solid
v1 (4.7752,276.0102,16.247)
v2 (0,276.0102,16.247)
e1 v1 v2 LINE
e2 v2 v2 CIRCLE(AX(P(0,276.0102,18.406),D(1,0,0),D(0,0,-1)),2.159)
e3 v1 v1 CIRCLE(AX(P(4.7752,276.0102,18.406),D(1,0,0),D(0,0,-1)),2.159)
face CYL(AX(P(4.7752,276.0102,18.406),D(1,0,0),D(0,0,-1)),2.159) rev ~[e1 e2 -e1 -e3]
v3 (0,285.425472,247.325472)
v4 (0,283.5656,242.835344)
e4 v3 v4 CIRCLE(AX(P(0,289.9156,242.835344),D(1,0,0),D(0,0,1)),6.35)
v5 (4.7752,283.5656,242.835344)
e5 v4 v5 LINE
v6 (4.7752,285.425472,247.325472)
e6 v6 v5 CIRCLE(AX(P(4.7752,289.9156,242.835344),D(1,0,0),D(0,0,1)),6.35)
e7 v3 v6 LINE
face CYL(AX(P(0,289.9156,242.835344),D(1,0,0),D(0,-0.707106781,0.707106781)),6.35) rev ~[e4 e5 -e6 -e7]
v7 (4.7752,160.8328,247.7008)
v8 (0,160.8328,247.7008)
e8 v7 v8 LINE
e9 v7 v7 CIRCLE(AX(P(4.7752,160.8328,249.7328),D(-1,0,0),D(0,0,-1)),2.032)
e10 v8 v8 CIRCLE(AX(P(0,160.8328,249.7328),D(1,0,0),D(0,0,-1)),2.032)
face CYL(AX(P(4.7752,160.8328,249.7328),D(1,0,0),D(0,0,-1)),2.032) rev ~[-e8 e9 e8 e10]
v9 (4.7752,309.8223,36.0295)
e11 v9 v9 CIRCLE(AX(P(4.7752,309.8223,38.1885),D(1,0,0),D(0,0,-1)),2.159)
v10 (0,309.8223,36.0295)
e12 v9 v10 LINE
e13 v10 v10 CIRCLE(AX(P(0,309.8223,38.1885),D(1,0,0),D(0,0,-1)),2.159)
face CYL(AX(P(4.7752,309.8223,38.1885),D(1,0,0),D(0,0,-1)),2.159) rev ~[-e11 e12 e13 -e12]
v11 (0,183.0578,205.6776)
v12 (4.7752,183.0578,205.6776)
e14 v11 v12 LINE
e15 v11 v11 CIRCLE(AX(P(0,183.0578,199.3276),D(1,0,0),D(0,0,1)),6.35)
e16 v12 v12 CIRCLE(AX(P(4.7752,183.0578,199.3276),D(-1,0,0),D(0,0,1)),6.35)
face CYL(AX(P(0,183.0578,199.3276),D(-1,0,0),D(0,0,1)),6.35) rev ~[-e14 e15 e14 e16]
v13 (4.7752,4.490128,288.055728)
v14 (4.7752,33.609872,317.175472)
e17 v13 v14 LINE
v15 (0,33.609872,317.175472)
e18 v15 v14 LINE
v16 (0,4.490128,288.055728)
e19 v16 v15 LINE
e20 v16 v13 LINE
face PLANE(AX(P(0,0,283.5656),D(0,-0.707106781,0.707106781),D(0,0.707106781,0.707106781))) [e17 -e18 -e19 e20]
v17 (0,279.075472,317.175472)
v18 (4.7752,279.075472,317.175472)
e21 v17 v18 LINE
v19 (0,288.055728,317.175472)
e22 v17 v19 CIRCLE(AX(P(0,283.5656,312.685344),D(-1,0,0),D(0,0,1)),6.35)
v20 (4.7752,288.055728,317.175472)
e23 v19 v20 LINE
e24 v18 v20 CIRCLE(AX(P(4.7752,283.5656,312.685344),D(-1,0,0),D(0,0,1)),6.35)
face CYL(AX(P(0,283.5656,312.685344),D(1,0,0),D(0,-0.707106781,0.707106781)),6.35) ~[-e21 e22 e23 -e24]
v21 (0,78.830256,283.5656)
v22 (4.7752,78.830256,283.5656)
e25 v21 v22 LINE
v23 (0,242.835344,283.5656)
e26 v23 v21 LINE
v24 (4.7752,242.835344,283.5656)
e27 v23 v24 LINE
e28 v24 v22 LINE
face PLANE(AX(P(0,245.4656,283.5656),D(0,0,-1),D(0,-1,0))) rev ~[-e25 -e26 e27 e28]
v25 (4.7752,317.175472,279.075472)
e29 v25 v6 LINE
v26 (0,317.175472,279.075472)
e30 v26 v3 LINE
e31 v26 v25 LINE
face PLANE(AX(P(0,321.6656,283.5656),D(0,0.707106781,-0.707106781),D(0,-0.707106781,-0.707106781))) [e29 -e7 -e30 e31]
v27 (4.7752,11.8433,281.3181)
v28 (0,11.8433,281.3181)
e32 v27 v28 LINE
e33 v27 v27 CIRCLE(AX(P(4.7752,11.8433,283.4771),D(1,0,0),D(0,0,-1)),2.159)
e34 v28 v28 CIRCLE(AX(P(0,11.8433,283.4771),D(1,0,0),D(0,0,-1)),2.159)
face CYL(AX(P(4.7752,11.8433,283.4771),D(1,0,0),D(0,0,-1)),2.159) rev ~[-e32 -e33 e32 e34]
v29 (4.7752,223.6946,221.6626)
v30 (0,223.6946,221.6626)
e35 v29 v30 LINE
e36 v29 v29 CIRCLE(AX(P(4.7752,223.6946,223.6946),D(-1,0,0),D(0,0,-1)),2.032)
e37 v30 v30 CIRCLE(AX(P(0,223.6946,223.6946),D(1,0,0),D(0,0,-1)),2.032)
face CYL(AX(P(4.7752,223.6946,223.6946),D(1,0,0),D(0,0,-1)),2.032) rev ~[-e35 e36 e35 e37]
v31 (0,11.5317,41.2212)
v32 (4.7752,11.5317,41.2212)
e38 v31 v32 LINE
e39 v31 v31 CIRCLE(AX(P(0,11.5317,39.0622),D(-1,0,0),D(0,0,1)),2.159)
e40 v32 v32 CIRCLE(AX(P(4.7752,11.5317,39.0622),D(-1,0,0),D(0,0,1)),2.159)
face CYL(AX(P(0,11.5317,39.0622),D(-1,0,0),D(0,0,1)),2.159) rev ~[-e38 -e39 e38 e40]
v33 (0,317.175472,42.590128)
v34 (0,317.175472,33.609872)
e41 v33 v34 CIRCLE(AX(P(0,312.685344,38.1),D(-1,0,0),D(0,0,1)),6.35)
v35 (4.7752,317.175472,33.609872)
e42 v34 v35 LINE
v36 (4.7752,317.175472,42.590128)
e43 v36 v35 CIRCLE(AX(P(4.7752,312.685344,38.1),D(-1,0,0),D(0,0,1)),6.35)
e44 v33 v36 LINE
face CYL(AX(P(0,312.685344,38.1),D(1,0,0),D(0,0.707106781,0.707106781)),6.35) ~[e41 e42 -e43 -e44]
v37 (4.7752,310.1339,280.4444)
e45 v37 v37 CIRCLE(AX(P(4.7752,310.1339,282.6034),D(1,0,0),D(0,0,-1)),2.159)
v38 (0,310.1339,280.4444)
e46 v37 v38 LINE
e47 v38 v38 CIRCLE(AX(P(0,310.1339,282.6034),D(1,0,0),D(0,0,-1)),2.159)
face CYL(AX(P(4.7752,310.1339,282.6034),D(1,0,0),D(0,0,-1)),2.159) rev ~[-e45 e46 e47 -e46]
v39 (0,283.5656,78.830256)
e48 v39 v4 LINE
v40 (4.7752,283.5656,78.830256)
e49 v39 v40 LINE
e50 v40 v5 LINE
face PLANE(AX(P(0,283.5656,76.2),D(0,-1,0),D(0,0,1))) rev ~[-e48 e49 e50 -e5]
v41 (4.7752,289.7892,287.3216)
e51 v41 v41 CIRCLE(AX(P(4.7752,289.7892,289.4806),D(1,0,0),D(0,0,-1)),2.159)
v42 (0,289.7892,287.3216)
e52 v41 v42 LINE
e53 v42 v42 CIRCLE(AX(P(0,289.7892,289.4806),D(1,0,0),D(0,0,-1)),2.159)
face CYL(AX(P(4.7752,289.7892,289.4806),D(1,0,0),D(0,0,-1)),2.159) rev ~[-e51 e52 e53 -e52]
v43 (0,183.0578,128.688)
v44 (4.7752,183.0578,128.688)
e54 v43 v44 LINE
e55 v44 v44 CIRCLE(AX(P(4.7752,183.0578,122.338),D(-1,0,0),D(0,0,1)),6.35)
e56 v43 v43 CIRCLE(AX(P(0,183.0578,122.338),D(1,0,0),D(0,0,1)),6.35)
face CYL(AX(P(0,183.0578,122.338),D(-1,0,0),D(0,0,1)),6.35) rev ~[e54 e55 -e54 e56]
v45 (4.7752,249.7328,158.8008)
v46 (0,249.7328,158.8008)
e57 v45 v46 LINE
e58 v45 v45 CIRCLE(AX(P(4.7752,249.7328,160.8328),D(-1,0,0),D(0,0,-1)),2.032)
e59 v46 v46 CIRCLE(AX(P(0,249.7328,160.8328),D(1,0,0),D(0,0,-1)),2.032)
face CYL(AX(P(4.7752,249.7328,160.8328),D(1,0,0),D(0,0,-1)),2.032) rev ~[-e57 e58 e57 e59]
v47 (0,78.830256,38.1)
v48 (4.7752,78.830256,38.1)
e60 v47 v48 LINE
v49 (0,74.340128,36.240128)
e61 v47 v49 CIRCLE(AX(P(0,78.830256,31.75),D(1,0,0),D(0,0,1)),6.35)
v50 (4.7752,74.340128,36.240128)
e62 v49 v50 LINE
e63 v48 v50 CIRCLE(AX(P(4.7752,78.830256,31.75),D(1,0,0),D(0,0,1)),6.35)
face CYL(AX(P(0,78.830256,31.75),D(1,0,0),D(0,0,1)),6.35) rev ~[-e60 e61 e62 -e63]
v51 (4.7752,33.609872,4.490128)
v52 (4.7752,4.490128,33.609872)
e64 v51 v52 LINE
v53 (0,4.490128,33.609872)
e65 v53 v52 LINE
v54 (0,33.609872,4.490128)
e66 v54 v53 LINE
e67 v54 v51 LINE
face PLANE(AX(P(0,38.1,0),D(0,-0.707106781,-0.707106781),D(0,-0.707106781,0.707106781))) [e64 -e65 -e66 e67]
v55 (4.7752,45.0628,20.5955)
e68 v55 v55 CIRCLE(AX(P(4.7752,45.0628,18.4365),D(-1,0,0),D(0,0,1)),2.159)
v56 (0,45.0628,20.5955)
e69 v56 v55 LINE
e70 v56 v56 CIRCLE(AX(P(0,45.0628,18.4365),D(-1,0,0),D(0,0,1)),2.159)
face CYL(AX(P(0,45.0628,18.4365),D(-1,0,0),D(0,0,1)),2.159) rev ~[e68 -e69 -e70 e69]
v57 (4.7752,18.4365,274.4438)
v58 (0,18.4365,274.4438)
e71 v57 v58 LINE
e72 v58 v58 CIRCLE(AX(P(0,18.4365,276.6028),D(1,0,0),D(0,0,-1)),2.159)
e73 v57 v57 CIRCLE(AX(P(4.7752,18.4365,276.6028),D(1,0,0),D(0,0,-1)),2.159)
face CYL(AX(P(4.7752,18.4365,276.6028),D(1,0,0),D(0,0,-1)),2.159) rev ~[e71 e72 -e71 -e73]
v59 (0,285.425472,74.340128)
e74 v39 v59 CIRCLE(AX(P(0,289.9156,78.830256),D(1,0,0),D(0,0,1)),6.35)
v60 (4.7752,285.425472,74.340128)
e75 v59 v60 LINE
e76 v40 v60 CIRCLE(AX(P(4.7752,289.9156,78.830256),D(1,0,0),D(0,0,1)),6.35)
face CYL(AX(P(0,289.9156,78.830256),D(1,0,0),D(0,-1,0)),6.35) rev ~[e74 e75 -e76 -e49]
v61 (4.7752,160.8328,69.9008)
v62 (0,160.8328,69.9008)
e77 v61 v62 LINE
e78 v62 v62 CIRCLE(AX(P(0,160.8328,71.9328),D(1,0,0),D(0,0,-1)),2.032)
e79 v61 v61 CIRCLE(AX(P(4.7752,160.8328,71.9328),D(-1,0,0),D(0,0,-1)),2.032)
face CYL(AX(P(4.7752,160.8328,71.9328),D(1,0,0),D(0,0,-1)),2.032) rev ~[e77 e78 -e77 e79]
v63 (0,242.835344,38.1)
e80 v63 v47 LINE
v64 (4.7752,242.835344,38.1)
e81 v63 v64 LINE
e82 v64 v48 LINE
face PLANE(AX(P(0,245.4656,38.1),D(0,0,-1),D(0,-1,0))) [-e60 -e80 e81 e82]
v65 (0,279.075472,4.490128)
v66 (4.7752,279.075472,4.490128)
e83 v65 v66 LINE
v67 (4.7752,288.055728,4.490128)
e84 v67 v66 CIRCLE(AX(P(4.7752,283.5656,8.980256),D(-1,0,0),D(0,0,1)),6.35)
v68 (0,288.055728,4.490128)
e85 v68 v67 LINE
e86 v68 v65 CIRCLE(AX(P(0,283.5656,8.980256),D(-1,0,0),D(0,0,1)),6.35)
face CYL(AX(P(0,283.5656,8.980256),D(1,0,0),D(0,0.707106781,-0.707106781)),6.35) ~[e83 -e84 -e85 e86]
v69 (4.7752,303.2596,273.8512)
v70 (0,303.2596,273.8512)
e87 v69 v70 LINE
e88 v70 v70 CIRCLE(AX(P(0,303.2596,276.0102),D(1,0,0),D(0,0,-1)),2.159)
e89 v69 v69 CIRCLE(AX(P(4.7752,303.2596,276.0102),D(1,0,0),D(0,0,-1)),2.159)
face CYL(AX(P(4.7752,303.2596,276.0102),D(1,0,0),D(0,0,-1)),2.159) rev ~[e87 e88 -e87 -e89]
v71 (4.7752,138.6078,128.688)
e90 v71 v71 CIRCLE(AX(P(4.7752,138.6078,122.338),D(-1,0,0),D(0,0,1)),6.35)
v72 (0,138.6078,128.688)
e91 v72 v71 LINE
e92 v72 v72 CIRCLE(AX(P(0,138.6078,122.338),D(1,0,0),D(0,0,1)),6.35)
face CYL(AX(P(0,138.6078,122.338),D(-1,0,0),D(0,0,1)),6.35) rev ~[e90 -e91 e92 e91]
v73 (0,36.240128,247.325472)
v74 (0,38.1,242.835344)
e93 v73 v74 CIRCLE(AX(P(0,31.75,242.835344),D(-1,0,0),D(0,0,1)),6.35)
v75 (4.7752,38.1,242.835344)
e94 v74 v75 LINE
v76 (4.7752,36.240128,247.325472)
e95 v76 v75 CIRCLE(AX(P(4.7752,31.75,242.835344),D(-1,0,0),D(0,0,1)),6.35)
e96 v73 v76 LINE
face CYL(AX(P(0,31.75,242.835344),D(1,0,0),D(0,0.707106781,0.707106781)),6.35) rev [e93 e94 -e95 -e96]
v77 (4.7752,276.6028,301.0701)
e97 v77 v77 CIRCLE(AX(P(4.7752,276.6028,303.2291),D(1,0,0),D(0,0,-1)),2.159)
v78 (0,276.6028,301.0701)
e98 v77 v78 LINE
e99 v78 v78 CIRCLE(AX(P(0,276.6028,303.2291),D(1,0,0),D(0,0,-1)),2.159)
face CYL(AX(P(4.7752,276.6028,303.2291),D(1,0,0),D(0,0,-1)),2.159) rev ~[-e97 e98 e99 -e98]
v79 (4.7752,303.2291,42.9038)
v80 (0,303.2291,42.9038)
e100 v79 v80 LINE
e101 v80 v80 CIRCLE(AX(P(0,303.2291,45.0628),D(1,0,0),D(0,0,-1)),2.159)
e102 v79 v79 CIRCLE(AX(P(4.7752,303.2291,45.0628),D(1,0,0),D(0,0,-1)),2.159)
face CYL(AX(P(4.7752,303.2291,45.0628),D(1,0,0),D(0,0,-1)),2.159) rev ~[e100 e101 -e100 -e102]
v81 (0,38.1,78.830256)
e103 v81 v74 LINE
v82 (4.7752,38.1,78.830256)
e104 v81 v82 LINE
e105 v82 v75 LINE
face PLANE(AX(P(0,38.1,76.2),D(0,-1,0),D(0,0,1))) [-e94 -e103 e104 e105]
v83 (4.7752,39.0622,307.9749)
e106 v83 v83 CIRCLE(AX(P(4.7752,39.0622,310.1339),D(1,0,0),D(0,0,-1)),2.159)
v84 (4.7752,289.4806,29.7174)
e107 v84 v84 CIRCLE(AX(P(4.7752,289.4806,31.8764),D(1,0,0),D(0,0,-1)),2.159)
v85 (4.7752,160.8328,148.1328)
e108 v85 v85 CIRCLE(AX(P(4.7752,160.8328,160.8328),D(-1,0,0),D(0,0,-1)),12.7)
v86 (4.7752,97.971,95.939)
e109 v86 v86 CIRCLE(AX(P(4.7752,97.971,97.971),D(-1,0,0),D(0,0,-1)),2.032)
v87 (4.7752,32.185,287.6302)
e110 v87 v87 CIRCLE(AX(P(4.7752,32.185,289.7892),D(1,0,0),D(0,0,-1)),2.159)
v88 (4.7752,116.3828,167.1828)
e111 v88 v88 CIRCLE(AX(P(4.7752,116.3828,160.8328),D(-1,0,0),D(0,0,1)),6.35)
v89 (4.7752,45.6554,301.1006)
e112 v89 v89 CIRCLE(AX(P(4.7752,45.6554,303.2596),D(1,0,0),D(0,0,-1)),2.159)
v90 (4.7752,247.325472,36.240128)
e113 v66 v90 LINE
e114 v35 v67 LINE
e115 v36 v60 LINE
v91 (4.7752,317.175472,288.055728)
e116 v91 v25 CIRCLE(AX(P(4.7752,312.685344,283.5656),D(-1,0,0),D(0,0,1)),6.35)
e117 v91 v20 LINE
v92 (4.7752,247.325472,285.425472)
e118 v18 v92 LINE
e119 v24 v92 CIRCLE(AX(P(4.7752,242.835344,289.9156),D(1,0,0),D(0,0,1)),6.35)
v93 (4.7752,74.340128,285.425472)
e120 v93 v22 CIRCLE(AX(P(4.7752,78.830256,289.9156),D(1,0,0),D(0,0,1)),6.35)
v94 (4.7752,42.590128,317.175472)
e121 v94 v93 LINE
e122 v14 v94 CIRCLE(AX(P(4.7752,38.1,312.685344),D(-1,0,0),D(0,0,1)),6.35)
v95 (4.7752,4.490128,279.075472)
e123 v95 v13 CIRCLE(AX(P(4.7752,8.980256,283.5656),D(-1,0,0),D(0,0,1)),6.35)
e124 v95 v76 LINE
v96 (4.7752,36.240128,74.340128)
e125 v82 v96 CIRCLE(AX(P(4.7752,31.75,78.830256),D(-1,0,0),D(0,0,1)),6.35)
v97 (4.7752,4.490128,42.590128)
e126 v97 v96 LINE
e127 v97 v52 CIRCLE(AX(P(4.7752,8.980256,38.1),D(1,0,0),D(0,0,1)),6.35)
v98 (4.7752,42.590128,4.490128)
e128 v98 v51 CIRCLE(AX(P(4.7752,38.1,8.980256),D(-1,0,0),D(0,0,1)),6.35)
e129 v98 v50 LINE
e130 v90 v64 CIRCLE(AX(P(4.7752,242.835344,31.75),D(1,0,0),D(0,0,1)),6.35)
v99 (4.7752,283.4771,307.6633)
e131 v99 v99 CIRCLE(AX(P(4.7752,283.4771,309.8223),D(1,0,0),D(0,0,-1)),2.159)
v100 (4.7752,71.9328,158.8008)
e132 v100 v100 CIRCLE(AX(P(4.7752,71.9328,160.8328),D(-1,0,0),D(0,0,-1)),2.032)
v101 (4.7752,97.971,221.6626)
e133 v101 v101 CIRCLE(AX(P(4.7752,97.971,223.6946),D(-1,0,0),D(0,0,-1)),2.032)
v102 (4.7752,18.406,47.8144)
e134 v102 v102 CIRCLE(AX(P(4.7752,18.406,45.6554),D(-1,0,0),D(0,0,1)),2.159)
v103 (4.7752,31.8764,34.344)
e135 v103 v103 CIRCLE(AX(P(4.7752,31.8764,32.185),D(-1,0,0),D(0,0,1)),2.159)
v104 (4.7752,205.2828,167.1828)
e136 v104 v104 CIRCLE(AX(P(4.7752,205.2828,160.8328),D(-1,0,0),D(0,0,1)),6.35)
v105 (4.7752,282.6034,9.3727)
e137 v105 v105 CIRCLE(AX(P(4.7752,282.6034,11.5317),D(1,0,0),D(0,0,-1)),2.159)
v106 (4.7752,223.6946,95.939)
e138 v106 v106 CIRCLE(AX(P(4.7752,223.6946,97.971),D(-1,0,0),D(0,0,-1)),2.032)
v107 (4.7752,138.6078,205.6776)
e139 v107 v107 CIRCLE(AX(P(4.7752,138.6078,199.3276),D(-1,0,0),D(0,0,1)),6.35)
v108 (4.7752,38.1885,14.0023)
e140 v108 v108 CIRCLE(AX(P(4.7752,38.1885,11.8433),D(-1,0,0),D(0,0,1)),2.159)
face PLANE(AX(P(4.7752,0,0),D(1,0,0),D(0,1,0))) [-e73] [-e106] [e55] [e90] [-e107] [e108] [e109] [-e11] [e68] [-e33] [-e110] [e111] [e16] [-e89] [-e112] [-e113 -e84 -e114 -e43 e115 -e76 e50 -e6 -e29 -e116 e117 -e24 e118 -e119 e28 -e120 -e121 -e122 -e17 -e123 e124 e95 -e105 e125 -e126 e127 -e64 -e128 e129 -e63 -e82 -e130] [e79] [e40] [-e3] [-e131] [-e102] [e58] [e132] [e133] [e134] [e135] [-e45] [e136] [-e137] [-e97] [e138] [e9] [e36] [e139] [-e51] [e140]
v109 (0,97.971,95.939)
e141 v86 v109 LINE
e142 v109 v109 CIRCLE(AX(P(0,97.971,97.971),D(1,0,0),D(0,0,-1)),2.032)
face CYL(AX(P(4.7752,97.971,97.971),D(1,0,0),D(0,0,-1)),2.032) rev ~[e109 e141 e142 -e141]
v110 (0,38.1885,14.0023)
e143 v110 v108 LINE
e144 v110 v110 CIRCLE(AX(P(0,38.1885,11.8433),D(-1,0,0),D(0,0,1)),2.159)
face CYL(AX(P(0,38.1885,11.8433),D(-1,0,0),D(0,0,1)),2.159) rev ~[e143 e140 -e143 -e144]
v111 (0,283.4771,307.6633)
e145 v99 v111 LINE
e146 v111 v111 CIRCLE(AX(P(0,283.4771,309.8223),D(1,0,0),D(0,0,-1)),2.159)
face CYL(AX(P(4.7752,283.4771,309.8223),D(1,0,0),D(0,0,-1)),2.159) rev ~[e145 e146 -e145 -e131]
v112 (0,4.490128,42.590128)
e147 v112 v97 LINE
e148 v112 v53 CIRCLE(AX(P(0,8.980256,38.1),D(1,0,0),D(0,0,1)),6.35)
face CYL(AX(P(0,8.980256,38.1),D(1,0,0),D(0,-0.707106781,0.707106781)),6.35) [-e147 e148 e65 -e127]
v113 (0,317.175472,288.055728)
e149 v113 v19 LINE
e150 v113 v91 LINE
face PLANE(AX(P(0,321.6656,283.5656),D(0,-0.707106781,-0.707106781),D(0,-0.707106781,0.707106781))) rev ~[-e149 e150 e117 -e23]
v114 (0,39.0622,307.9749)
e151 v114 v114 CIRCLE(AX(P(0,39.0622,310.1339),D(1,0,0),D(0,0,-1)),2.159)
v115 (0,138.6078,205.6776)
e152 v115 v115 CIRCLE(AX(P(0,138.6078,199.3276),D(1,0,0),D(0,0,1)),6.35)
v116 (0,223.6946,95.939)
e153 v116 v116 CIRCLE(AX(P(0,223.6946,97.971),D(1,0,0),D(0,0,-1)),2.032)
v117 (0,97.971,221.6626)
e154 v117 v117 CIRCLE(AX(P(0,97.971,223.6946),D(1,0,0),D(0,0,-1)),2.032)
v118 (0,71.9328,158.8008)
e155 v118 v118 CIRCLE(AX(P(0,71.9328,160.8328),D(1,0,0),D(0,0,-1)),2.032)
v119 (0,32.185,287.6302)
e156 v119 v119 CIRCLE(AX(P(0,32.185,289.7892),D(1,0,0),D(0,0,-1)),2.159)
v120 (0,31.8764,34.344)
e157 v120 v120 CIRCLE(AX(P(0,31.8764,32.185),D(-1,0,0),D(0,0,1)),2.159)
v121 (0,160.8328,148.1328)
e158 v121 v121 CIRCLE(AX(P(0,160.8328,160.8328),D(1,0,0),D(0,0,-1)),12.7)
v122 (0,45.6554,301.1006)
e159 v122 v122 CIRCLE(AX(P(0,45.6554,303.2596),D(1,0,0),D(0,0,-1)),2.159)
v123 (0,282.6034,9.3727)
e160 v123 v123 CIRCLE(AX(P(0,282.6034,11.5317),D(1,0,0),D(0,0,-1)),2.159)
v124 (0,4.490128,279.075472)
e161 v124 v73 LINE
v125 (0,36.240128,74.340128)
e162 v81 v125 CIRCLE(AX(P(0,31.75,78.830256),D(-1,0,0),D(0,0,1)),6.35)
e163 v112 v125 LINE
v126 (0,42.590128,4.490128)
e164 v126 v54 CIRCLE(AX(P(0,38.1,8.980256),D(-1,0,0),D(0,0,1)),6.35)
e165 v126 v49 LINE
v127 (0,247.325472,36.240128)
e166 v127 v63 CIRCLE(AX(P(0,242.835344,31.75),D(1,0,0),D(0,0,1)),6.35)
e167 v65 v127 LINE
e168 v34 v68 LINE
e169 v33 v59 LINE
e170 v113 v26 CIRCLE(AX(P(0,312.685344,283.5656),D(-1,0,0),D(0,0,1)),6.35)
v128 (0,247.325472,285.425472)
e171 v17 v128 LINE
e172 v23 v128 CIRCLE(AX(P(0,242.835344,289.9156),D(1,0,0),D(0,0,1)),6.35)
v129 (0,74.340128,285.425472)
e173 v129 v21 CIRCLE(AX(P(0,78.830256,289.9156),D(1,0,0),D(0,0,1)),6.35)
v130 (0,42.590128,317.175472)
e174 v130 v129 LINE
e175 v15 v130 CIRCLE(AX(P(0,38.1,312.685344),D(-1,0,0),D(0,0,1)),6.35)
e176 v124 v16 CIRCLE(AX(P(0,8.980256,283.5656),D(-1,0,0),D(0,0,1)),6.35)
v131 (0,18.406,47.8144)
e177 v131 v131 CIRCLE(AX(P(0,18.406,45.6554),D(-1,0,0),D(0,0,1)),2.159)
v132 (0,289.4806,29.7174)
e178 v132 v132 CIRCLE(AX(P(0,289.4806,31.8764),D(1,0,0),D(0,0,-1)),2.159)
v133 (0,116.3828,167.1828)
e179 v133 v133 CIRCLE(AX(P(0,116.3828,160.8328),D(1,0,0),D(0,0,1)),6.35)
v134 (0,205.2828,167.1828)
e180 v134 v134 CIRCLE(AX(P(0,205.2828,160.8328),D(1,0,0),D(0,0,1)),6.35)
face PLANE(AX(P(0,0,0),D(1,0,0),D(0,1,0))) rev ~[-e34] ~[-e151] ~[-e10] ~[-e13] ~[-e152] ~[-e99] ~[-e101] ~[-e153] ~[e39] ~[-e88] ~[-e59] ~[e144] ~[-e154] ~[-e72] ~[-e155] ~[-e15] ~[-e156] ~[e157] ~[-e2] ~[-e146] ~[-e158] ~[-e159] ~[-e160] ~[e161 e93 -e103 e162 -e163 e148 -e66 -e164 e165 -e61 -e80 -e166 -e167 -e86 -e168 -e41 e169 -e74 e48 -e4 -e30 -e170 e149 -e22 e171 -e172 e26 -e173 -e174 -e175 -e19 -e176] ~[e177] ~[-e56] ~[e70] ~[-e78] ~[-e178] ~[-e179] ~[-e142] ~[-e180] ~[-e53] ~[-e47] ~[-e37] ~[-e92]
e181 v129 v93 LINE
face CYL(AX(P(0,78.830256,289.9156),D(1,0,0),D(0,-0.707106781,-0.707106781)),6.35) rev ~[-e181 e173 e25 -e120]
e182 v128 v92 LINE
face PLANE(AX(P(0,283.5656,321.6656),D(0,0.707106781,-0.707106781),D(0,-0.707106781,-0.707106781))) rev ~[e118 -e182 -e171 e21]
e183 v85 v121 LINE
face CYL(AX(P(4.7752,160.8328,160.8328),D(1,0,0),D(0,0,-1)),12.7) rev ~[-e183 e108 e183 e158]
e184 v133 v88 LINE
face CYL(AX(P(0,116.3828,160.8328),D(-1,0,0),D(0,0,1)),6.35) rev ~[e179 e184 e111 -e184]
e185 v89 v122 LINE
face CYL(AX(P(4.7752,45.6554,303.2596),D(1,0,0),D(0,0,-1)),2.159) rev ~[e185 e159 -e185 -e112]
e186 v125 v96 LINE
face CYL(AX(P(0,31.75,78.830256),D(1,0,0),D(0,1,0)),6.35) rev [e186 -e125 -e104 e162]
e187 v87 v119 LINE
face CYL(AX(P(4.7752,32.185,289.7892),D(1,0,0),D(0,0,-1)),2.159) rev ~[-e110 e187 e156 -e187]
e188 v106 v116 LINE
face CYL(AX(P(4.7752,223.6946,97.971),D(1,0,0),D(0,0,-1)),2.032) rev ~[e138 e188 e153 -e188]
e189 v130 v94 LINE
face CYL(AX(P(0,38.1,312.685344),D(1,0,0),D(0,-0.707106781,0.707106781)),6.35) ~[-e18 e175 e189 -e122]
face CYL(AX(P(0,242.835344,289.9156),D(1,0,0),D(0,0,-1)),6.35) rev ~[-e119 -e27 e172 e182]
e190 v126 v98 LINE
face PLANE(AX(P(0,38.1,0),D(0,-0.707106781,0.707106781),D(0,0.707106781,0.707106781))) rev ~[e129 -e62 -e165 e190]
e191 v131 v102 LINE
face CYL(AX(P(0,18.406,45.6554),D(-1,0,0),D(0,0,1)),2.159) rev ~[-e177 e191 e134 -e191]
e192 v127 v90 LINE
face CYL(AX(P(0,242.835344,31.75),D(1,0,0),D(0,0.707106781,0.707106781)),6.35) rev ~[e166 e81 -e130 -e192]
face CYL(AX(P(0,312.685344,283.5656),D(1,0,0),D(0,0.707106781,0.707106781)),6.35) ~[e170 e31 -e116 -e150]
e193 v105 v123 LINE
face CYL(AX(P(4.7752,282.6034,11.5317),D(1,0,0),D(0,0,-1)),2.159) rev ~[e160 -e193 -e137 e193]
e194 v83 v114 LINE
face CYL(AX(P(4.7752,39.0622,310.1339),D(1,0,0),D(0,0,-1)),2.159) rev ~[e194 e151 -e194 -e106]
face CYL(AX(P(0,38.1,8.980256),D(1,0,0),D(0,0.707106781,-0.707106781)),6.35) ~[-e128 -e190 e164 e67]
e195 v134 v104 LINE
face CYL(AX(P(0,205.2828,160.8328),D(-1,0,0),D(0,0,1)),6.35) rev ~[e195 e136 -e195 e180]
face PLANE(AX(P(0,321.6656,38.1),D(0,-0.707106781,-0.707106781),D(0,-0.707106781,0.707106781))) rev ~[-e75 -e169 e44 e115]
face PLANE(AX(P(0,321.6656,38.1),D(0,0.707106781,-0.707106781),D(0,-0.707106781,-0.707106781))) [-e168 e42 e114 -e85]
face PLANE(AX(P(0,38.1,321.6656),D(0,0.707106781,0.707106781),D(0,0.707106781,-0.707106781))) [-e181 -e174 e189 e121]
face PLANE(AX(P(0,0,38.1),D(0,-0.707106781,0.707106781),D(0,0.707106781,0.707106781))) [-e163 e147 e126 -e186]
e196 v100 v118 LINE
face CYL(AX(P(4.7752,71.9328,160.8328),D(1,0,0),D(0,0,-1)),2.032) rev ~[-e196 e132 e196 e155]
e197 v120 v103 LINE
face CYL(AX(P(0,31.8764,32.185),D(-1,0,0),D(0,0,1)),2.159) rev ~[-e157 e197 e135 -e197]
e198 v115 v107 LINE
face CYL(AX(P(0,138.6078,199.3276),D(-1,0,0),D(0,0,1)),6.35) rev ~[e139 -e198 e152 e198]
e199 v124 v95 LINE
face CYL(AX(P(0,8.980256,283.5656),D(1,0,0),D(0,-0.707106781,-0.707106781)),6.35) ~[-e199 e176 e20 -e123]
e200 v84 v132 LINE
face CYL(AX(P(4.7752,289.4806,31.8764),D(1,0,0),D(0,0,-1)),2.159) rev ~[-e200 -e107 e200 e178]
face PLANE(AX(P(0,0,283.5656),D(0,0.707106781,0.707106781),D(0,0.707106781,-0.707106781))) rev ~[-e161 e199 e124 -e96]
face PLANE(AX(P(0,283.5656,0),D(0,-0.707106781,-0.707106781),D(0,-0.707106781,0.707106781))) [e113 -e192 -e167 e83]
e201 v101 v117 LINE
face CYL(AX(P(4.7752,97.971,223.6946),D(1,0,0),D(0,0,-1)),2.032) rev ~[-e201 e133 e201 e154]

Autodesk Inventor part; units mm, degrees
ref_plane "YZ Plane" through (0, 0, 0) normal (1, 0, 0) x (0, 1, 0)
ref_plane "XZ Plane" through (0, 0, 0) normal (0, 1, 0) x (-1, 0, 0)
ref_plane "XY Plane" through (0, 0, 0) normal (0, 0, 1) x (1, 0, 0)
sketch "Sketch1" plane through (0, 0, 0) normal (1, 0, 0) x (0, 1, 0)
  line L0 (0, 0) -> (321.6656, 0)
  line L1 (321.6656, 0) -> (321.6656, 321.6656)
  line L2 (321.6656, 321.6656) -> (0, 321.6656)
  line L3 (0, 321.6656) -> (0, 0)
  dimension "d0" = 321.6656
  dimension "d1" = 321.6656
extrude "Extrusion1" add sketch "Sketch1" along normal blind 4.7752
sketch "Sketch3" plane through (0, 0, 0) normal (-1, 0, 0) x (0, 0, 1)
  line L0 (0, 321.6656) -> (321.6656, 321.6656) projected
  line L1 (321.6656, 321.6656) -> (321.6656, 0) projected
  line L2 (0, 321.6656) -> (321.6656, 321.6656) projected
  line L3 (321.6656, 321.6656) -> (283.5656, 321.6656)
  line L4 (283.5656, 321.6656) -> (283.5656, 283.5656)
  line L5 (283.5656, 283.5656) -> (321.6656, 283.5656)
  line L6 (321.6656, 283.5656) -> (321.6656, 321.6656)
  line L7 (321.6656, 321.6656) -> (321.6656, 0) projected
  line L8 (321.6656, 0) -> (283.5656, 0)
  line L9 (283.5656, 0) -> (283.5656, 38.1)
  line L10 (283.5656, 38.1) -> (321.6656, 38.1)
  line L11 (321.6656, 38.1) -> (321.6656, 0)
  line L12 (321.6656, 0) -> (0, 0) projected
  line L13 (0, 0) -> (38.1, 0)
  line L14 (38.1, 0) -> (38.1, 38.1)
  line L15 (38.1, 38.1) -> (0, 38.1)
  line L16 (0, 38.1) -> (0, 0)
  line L17 (0, 321.6656) -> (38.1, 321.6656)
  line L18 (38.1, 321.6656) -> (38.1, 283.5656)
  line L19 (38.1, 283.5656) -> (0, 283.5656)
  line L20 (0, 283.5656) -> (0, 321.6656)
  line L21 (283.5656, 321.6656) -> (38.1, 321.6656)
  line L22 (38.1, 321.6656) -> (38.1, 283.5656)
  line L23 (38.1, 283.5656) -> (283.5656, 283.5656)
  line L24 (283.5656, 283.5656) -> (283.5656, 321.6656)
  line L25 (321.6656, 283.5656) -> (283.5656, 283.5656)
  line L26 (283.5656, 283.5656) -> (283.5656, 38.1)
  line L27 (283.5656, 38.1) -> (321.6656, 38.1)
  line L28 (321.6656, 38.1) -> (321.6656, 283.5656)
  line L29 (38.1, 38.1) -> (0, 38.1)
  line L30 (0, 38.1) -> (0, 283.5656)
  line L31 (0, 283.5656) -> (38.1, 283.5656)
  line L32 (38.1, 283.5656) -> (38.1, 38.1)
  line L33 (38.1, 38.1) -> (283.5656, 38.1)
  line L34 (283.5656, 38.1) -> (283.5656, 0)
  line L35 (283.5656, 0) -> (38.1, 0)
  line L36 (38.1, 0) -> (38.1, 38.1)
  line L37 (321.6656, 283.5656) -> (283.5656, 245.4656)
  line L38 (321.6656, 283.5656) -> (375.5471, 283.5656) construction
  line L39 (283.5656, 245.4656) -> (283.5656, 321.6656)
  line L40 (283.5656, 321.6656) -> (245.4656, 283.5656)
  line L41 (283.5656, 321.6656) -> (337.4471, 321.6656) construction
  line L42 (38.1, 321.6656) -> (76.2, 283.5656)
  line L43 (38.1, 321.6656) -> (91.9815, 321.6656) construction
  line L44 (0, 283.5656) -> (38.1, 245.4656)
  line L45 (0, 283.5656) -> (53.8815, 283.5656) construction
  line L46 (0, 38.1) -> (38.1, 76.2)
  line L47 (0, 38.1) -> (53.8815, 38.1) construction
  line L48 (38.1, 0) -> (76.2, 38.1)
  line L49 (38.1, 0) -> (91.9815, 0) construction
  line L50 (321.6656, 38.1) -> (283.5656, 76.2)
  line L51 (321.6656, 38.1) -> (375.5471, 38.1) construction
  line L52 (283.5656, 0) -> (245.4656, 38.1)
  line L53 (283.5656, 0) -> (337.4471, 0) construction
  dimension "d14" = 38.1
  dimension "d15" = 38.1
  dimension "d16" = 38.1
  dimension "d17" = 38.1
  dimension "d18" = 38.1
  dimension "d19" = 38.1
  dimension "d20" = 38.1
  dimension "d21" = 135
  dimension "d22" = 135
  dimension "d25" = 45
  dimension "d26" = 45
  dimension "d27" = 45
  dimension "d28" = 45
  dimension "d29" = 135
  dimension "d30" = 135
extrude "Extrusion4" cut sketch "Sketch3" against normal blind 4.7752 contours L0 L40 L23 L42 | L44 L32 L46 L30 | L1 L50 L26 L37 | L48 L33 L52 L12
sketch "Sketch4" plane through (0, 0, 0) normal (-1, 0, 0) x (0, 0, 1)
  line L0 (321.6656, 0) -> (283.5656, 0) projected
  line L1 (321.6656, 38.1) -> (321.6656, 0) projected
  line L2 (321.6656, 321.6656) -> (321.6656, 283.5656) projected
  line L3 (283.5656, 321.6656) -> (321.6656, 321.6656) projected
  line L4 (0, 321.6656) -> (38.1, 321.6656) projected
  line L5 (0, 283.5656) -> (0, 321.6656) projected
  line L6 (0, 0) -> (0, 38.1) projected
  line L7 (38.1, 0) -> (0, 0) projected
  line L8 (245.4656, 283.5656) -> (283.5656, 321.6656) projected
  line L9 (283.5656, 321.6656) -> (321.6656, 283.5656)
  line L10 (0, 283.5656) -> (0, 321.6656) projected
  line L11 (38.1, 321.6656) -> (0, 283.5656)
  line L12 (0, 38.1) -> (38.1, 0)
  line L13 (283.5656, 0) -> (321.6656, 38.1)
extrude "Extrusion5" cut sketch "Sketch4" against normal blind 4.7752
fillet "Fillet1" radius 6.35 16 edges at (2.3876, 283.5656, 0) (2.3876, 321.6656, 38.1) (2.3876, 38.1, 0) (2.3876, 76.2, 38.1) (2.3876, 0, 38.1) (2.3876, 283.5656, 76.2) (2.3876, 283.5656, 245.4656) (2.3876, 321.6656, 283.5656) (2.3876, 283.5656, 321.6656) (2.3876, 76.2, 283.5656) (2.3876, 245.4656, 283.5656) (2.3876, 0, 283.5656) (2.3876, 38.1, 321.6656) (2.3876, 38.1, 76.2) (2.3876, 38.1, 245.4656) (2.3876, 245.4656, 38.1)
sketch "Sketch6" plane through (0, 0, 0) normal (-1, 0, 0) x (0, 0, 1)
  circle A0 centre (-6.7619, -6.7309) radius 6.35
  circle A1 centre (71.9016, 17.9648) radius 6.35
  circle A2 centre (-24.7224, -24.6915) radius 6.35
  circle A3 centre (18.3502, 71.9326) radius 6.35
  circle A4 centre (39.0622, 11.5317) radius 2.159
  circle A5 centre (45.6554, 18.406) radius 2.159
  circle A6 centre (18.4365, 45.0628) radius 2.159
  circle A7 centre (32.185, 31.8764) radius 2.159
  circle A8 centre (11.8433, 38.1885) radius 2.159
  arc A9 (79.2947, 3.1748) -> (87.7766, 8.3381) centre (85.2874, 2.8788) ccw
  line L0 (87.7766, 28.6693) -> (87.7766, 8.3381)
  arc A10 (87.7766, 28.6693) -> (79.2947, 33.8326) centre (85.2874, 34.1286) ccw
  line L1 (40.1516, 33.8326) -> (79.2947, 33.8326)
  arc A11 (33.8016, 40.1826) -> (40.1516, 33.8326) centre (40.1516, 40.1826) ccw
  line L2 (33.8016, 79.3257) -> (33.8016, 40.1826)
  arc A12 (33.8016, 79.3257) -> (28.6383, 87.8076) centre (34.0976, 85.3184) ccw
  line L3 (28.6383, 87.8076) -> (8.3071, 87.8076)
  arc A13 (8.3071, 87.8076) -> (3.1438, 79.3257) centre (2.8478, 85.3184) ccw
  line L4 (3.1438, 27.4834) -> (3.1438, 79.3257)
  arc A14 (1.284, 22.9933) -> (3.1438, 27.4834) centre (-3.2062, 27.4834) ccw
  line L5 (-40.7893, -19.08) -> (1.284, 22.9933)
  arc A15 (-28.7596, -43.1049) -> (-19.111, -40.7583) centre (-23.1391, -45.2051) ccw
  line L6 (22.9623, 1.3149) -> (-19.111, -40.7583)
  arc A16 (27.4524, 3.1748) -> (22.9623, 1.3149) centre (27.4524, -3.1752) ccw
  line L7 (79.2947, 3.1748) -> (27.4524, 3.1748)
  circle A17 centre (85.2874, 34.1286) radius 2.95
  circle A18 centre (2.8478, 85.3184) radius 2.95
  circle A19 centre (-23.1391, -45.2051) radius 2.95
  circle A20 centre (85.2874, 2.8788) radius 2.95
  circle A21 centre (34.0976, 85.3184) radius 2.95
  point P0 (0, 0)
  point P1 (36.9766, 87.8076)
  dimension "d65" = 4.318
extrude "Extrusion7" cut sketch "Sketch6" against normal blind 25.4 contours A4 | A5 | A6 | A7 | A8
sketch "Sketch7" plane through (4.7752, 0, 0) normal (1, 0, 0) x (0, 0, -1)
  circle A0 centre (-31.8764, 289.4806) radius 2.159
  circle A1 centre (-11.5317, 282.6034) radius 2.159
  circle A2 centre (-38.1885, 309.8223) radius 2.159
  circle A3 centre (-18.406, 276.0102) radius 2.159
  circle A4 centre (-45.0628, 303.2291) radius 2.159
  circle A5 centre (-81.9118, 239.7538) radius 19.05
  line L0 (-38.1, 78.8303) -> (-38.1, 242.8353)
  arc A6 (-36.2401, 247.3255) -> (-38.1, 242.8353) centre (-31.75, 242.8353) ccw
  line L1 (-36.2401, 247.3255) -> (-4.4901, 279.0755)
  arc A7 (-4.4901, 279.0755) -> (-4.4901, 288.0557) centre (-8.9803, 283.5656) ccw
  line L2 (-4.4901, 288.0557) -> (-33.6099, 317.1755)
  arc A8 (-33.6099, 317.1755) -> (-42.5901, 317.1755) centre (-38.1, 312.6853) ccw
  line L3 (-42.5901, 317.1755) -> (-74.3401, 285.4255)
  arc A9 (-78.8303, 283.5656) -> (-74.3401, 285.4255) centre (-78.8303, 289.9156) ccw
  line L4 (-78.8303, 283.5656) -> (-242.8353, 283.5656)
  point P0 (0, 0)
  point P1 (-61.0348, 364.3954)
extrude "Extrusion8" cut sketch "Sketch7" against normal blind 25.4 contours A0 | A1 | A2 | A3 | A4
sketch "Sketch8" plane through (4.7752, 0, 0) normal (1, 0, 0) x (0, 0, -1)
  circle A0 centre (-289.7892, 32.185) radius 2.159
  circle A1 centre (-310.1339, 39.0622) radius 2.159
  circle A2 centre (-276.6028, 18.4365) radius 2.159
  circle A3 centre (-303.2596, 45.6554) radius 2.159
  circle A4 centre (-283.4771, 11.8433) radius 2.159
  circle A5 centre (-289.4806, 289.7892) radius 2.159
  circle A6 centre (-282.6034, 310.1339) radius 2.159
  circle A7 centre (-309.8223, 283.4771) radius 2.159
  circle A8 centre (-276.0102, 303.2596) radius 2.159
  circle A9 centre (-303.2291, 276.6028) radius 2.159
  circle A10 centre (-239.7538, 81.9118) radius 19.05
  circle A11 centre (-239.7538, 239.7538) radius 19.05
  line L0 (-78.8303, 283.5656) -> (-242.8353, 283.5656)
  arc A12 (-247.3255, 285.4255) -> (-242.8353, 283.5656) centre (-242.8353, 289.9156) ccw
  line L1 (-247.3255, 285.4255) -> (-279.0755, 317.1755)
  arc A13 (-279.0755, 317.1755) -> (-288.0557, 317.1755) centre (-283.5656, 312.6853) ccw
  line L2 (-288.0557, 317.1755) -> (-317.1755, 288.0557)
  arc A14 (-317.1755, 288.0557) -> (-317.1755, 279.0755) centre (-312.6853, 283.5656) ccw
  line L3 (-317.1755, 279.0755) -> (-285.4255, 247.3255)
  arc A15 (-283.5656, 242.8353) -> (-285.4255, 247.3255) centre (-289.9156, 242.8353) ccw
  line L4 (-283.5656, 242.8353) -> (-283.5656, 78.8303)
  arc A16 (-285.4255, 74.3401) -> (-283.5656, 78.8303) centre (-289.9156, 78.8303) ccw
  line L5 (-285.4255, 74.3401) -> (-317.1755, 42.5901)
  arc A17 (-317.1755, 42.5901) -> (-317.1755, 33.6099) centre (-312.6853, 38.1) ccw
  line L6 (-317.1755, 33.6099) -> (-288.0557, 4.4901)
  arc A18 (-288.0557, 4.4901) -> (-279.0755, 4.4901) centre (-283.5656, 8.9803) ccw
  line L7 (-279.0755, 4.4901) -> (-247.3255, 36.2401)
  arc A19 (-242.8353, 38.1) -> (-247.3255, 36.2401) centre (-242.8353, 31.75) ccw
  line L8 (-242.8353, 38.1) -> (-78.8303, 38.1)
  point P0 (0, 0)
  point P1 (-321.6656, 321.6656)
extrude "Extrusion9" cut sketch "Sketch8" against normal blind 25.4 contours A0 | A1 | A2 | A3 | A4 | A5 | A6 | A7 | A8 | A9
sketch "Sketch9" plane through (4.7752, 0, 0) normal (1, 0, 0) x (0, 0, -1)
  circle A0 centre (-160.8328, 160.8328) radius 19.05
  circle A1 centre (-160.8328, 160.8328) radius 88.9
  circle A2 centre (-160.8328, 249.7328) radius 2.032
  circle A3 centre (-223.6946, 223.6946) radius 2.032
  circle A4 centre (-249.7328, 160.8328) radius 2.032
  circle A5 centre (-223.6946, 97.971) radius 2.032
  circle A6 centre (-160.8328, 71.9328) radius 2.032
  circle A7 centre (-97.971, 97.971) radius 2.032
  circle A8 centre (-71.9328, 160.8328) radius 2.032
  circle A9 centre (-97.971, 223.6946) radius 2.032
  point P0 (0, 0)
  dimension "d54" = 177.8
  dimension "d53" = 38.1
  dimension "d55" = 4.064
  dimension "d61" = 360
extrude "Extrusion10" cut sketch "Sketch9" against normal blind 25.4 contours A1 A8 | A1 A8 | A9 A1 | A1 A9 | A7 A1 | A1 A7 | A2 A1 | A1 A2 | A6 A1 | A1 A6 | A3 A1 | A1 A3 | A5 A1 | A1 A5 | A4 A1 | A1 A4
sketch "Sketch12" plane through (4.7752, 0, 0) normal (1, 0, 0) x (0, 0, -1)
  line L0 (-317.1755, 33.6099) -> (-288.0557, 4.4901) projected
  line L1 (-33.6099, 4.4901) -> (-4.4901, 33.6099) projected
  line L2 (-4.4901, 288.0557) -> (-33.6099, 317.1755) projected
  line L3 (-288.0557, 317.1755) -> (-317.1755, 288.0557) projected
  line L4 (-302.6156, 302.6156) -> (-19.05, 19.05)
  line L5 (-302.6156, 19.05) -> (-19.05, 302.6156)
  circle A0 centre (-160.8328, 160.8328) radius 12.7
  point P0 (0, 0)
  dimension "d67" = 25.4
extrude "Extrusion11" cut sketch "Sketch12" against normal blind 25.4
sketch "Sketch13" plane through (0, 0, 0) normal (-1, 0, 0) x (0, 0, 1)
  circle A0 centre (160.8328, 160.8328) radius 12.7 projected
  circle A1 centre (160.8328, 116.3828) radius 6.35
  circle A2 centre (160.8328, 160.8328) radius 44.45
  circle A3 centre (199.3276, 138.6078) radius 6.35
  circle A4 centre (199.3276, 183.0578) radius 6.35
  circle A5 centre (160.8328, 205.2828) radius 6.35
  circle A6 centre (122.338, 183.0578) radius 6.35
  circle A7 centre (122.338, 138.6078) radius 6.35
  point P0 (0, 0)
  dimension "d70" = 12.7
  dimension "d71" = 44.45
  dimension "d74" = 360
extrude "Extrusion12" cut sketch "Sketch13" against normal blind 25.4 contours A1 A2 | A2 A1 | A3 A2 | A2 A3 | A7 A2 | A2 A7 | A6 A2 | A2 A6 | A4 A2 | A2 A4 | A5 A2 | A2 A5
properties part number "Frame"
